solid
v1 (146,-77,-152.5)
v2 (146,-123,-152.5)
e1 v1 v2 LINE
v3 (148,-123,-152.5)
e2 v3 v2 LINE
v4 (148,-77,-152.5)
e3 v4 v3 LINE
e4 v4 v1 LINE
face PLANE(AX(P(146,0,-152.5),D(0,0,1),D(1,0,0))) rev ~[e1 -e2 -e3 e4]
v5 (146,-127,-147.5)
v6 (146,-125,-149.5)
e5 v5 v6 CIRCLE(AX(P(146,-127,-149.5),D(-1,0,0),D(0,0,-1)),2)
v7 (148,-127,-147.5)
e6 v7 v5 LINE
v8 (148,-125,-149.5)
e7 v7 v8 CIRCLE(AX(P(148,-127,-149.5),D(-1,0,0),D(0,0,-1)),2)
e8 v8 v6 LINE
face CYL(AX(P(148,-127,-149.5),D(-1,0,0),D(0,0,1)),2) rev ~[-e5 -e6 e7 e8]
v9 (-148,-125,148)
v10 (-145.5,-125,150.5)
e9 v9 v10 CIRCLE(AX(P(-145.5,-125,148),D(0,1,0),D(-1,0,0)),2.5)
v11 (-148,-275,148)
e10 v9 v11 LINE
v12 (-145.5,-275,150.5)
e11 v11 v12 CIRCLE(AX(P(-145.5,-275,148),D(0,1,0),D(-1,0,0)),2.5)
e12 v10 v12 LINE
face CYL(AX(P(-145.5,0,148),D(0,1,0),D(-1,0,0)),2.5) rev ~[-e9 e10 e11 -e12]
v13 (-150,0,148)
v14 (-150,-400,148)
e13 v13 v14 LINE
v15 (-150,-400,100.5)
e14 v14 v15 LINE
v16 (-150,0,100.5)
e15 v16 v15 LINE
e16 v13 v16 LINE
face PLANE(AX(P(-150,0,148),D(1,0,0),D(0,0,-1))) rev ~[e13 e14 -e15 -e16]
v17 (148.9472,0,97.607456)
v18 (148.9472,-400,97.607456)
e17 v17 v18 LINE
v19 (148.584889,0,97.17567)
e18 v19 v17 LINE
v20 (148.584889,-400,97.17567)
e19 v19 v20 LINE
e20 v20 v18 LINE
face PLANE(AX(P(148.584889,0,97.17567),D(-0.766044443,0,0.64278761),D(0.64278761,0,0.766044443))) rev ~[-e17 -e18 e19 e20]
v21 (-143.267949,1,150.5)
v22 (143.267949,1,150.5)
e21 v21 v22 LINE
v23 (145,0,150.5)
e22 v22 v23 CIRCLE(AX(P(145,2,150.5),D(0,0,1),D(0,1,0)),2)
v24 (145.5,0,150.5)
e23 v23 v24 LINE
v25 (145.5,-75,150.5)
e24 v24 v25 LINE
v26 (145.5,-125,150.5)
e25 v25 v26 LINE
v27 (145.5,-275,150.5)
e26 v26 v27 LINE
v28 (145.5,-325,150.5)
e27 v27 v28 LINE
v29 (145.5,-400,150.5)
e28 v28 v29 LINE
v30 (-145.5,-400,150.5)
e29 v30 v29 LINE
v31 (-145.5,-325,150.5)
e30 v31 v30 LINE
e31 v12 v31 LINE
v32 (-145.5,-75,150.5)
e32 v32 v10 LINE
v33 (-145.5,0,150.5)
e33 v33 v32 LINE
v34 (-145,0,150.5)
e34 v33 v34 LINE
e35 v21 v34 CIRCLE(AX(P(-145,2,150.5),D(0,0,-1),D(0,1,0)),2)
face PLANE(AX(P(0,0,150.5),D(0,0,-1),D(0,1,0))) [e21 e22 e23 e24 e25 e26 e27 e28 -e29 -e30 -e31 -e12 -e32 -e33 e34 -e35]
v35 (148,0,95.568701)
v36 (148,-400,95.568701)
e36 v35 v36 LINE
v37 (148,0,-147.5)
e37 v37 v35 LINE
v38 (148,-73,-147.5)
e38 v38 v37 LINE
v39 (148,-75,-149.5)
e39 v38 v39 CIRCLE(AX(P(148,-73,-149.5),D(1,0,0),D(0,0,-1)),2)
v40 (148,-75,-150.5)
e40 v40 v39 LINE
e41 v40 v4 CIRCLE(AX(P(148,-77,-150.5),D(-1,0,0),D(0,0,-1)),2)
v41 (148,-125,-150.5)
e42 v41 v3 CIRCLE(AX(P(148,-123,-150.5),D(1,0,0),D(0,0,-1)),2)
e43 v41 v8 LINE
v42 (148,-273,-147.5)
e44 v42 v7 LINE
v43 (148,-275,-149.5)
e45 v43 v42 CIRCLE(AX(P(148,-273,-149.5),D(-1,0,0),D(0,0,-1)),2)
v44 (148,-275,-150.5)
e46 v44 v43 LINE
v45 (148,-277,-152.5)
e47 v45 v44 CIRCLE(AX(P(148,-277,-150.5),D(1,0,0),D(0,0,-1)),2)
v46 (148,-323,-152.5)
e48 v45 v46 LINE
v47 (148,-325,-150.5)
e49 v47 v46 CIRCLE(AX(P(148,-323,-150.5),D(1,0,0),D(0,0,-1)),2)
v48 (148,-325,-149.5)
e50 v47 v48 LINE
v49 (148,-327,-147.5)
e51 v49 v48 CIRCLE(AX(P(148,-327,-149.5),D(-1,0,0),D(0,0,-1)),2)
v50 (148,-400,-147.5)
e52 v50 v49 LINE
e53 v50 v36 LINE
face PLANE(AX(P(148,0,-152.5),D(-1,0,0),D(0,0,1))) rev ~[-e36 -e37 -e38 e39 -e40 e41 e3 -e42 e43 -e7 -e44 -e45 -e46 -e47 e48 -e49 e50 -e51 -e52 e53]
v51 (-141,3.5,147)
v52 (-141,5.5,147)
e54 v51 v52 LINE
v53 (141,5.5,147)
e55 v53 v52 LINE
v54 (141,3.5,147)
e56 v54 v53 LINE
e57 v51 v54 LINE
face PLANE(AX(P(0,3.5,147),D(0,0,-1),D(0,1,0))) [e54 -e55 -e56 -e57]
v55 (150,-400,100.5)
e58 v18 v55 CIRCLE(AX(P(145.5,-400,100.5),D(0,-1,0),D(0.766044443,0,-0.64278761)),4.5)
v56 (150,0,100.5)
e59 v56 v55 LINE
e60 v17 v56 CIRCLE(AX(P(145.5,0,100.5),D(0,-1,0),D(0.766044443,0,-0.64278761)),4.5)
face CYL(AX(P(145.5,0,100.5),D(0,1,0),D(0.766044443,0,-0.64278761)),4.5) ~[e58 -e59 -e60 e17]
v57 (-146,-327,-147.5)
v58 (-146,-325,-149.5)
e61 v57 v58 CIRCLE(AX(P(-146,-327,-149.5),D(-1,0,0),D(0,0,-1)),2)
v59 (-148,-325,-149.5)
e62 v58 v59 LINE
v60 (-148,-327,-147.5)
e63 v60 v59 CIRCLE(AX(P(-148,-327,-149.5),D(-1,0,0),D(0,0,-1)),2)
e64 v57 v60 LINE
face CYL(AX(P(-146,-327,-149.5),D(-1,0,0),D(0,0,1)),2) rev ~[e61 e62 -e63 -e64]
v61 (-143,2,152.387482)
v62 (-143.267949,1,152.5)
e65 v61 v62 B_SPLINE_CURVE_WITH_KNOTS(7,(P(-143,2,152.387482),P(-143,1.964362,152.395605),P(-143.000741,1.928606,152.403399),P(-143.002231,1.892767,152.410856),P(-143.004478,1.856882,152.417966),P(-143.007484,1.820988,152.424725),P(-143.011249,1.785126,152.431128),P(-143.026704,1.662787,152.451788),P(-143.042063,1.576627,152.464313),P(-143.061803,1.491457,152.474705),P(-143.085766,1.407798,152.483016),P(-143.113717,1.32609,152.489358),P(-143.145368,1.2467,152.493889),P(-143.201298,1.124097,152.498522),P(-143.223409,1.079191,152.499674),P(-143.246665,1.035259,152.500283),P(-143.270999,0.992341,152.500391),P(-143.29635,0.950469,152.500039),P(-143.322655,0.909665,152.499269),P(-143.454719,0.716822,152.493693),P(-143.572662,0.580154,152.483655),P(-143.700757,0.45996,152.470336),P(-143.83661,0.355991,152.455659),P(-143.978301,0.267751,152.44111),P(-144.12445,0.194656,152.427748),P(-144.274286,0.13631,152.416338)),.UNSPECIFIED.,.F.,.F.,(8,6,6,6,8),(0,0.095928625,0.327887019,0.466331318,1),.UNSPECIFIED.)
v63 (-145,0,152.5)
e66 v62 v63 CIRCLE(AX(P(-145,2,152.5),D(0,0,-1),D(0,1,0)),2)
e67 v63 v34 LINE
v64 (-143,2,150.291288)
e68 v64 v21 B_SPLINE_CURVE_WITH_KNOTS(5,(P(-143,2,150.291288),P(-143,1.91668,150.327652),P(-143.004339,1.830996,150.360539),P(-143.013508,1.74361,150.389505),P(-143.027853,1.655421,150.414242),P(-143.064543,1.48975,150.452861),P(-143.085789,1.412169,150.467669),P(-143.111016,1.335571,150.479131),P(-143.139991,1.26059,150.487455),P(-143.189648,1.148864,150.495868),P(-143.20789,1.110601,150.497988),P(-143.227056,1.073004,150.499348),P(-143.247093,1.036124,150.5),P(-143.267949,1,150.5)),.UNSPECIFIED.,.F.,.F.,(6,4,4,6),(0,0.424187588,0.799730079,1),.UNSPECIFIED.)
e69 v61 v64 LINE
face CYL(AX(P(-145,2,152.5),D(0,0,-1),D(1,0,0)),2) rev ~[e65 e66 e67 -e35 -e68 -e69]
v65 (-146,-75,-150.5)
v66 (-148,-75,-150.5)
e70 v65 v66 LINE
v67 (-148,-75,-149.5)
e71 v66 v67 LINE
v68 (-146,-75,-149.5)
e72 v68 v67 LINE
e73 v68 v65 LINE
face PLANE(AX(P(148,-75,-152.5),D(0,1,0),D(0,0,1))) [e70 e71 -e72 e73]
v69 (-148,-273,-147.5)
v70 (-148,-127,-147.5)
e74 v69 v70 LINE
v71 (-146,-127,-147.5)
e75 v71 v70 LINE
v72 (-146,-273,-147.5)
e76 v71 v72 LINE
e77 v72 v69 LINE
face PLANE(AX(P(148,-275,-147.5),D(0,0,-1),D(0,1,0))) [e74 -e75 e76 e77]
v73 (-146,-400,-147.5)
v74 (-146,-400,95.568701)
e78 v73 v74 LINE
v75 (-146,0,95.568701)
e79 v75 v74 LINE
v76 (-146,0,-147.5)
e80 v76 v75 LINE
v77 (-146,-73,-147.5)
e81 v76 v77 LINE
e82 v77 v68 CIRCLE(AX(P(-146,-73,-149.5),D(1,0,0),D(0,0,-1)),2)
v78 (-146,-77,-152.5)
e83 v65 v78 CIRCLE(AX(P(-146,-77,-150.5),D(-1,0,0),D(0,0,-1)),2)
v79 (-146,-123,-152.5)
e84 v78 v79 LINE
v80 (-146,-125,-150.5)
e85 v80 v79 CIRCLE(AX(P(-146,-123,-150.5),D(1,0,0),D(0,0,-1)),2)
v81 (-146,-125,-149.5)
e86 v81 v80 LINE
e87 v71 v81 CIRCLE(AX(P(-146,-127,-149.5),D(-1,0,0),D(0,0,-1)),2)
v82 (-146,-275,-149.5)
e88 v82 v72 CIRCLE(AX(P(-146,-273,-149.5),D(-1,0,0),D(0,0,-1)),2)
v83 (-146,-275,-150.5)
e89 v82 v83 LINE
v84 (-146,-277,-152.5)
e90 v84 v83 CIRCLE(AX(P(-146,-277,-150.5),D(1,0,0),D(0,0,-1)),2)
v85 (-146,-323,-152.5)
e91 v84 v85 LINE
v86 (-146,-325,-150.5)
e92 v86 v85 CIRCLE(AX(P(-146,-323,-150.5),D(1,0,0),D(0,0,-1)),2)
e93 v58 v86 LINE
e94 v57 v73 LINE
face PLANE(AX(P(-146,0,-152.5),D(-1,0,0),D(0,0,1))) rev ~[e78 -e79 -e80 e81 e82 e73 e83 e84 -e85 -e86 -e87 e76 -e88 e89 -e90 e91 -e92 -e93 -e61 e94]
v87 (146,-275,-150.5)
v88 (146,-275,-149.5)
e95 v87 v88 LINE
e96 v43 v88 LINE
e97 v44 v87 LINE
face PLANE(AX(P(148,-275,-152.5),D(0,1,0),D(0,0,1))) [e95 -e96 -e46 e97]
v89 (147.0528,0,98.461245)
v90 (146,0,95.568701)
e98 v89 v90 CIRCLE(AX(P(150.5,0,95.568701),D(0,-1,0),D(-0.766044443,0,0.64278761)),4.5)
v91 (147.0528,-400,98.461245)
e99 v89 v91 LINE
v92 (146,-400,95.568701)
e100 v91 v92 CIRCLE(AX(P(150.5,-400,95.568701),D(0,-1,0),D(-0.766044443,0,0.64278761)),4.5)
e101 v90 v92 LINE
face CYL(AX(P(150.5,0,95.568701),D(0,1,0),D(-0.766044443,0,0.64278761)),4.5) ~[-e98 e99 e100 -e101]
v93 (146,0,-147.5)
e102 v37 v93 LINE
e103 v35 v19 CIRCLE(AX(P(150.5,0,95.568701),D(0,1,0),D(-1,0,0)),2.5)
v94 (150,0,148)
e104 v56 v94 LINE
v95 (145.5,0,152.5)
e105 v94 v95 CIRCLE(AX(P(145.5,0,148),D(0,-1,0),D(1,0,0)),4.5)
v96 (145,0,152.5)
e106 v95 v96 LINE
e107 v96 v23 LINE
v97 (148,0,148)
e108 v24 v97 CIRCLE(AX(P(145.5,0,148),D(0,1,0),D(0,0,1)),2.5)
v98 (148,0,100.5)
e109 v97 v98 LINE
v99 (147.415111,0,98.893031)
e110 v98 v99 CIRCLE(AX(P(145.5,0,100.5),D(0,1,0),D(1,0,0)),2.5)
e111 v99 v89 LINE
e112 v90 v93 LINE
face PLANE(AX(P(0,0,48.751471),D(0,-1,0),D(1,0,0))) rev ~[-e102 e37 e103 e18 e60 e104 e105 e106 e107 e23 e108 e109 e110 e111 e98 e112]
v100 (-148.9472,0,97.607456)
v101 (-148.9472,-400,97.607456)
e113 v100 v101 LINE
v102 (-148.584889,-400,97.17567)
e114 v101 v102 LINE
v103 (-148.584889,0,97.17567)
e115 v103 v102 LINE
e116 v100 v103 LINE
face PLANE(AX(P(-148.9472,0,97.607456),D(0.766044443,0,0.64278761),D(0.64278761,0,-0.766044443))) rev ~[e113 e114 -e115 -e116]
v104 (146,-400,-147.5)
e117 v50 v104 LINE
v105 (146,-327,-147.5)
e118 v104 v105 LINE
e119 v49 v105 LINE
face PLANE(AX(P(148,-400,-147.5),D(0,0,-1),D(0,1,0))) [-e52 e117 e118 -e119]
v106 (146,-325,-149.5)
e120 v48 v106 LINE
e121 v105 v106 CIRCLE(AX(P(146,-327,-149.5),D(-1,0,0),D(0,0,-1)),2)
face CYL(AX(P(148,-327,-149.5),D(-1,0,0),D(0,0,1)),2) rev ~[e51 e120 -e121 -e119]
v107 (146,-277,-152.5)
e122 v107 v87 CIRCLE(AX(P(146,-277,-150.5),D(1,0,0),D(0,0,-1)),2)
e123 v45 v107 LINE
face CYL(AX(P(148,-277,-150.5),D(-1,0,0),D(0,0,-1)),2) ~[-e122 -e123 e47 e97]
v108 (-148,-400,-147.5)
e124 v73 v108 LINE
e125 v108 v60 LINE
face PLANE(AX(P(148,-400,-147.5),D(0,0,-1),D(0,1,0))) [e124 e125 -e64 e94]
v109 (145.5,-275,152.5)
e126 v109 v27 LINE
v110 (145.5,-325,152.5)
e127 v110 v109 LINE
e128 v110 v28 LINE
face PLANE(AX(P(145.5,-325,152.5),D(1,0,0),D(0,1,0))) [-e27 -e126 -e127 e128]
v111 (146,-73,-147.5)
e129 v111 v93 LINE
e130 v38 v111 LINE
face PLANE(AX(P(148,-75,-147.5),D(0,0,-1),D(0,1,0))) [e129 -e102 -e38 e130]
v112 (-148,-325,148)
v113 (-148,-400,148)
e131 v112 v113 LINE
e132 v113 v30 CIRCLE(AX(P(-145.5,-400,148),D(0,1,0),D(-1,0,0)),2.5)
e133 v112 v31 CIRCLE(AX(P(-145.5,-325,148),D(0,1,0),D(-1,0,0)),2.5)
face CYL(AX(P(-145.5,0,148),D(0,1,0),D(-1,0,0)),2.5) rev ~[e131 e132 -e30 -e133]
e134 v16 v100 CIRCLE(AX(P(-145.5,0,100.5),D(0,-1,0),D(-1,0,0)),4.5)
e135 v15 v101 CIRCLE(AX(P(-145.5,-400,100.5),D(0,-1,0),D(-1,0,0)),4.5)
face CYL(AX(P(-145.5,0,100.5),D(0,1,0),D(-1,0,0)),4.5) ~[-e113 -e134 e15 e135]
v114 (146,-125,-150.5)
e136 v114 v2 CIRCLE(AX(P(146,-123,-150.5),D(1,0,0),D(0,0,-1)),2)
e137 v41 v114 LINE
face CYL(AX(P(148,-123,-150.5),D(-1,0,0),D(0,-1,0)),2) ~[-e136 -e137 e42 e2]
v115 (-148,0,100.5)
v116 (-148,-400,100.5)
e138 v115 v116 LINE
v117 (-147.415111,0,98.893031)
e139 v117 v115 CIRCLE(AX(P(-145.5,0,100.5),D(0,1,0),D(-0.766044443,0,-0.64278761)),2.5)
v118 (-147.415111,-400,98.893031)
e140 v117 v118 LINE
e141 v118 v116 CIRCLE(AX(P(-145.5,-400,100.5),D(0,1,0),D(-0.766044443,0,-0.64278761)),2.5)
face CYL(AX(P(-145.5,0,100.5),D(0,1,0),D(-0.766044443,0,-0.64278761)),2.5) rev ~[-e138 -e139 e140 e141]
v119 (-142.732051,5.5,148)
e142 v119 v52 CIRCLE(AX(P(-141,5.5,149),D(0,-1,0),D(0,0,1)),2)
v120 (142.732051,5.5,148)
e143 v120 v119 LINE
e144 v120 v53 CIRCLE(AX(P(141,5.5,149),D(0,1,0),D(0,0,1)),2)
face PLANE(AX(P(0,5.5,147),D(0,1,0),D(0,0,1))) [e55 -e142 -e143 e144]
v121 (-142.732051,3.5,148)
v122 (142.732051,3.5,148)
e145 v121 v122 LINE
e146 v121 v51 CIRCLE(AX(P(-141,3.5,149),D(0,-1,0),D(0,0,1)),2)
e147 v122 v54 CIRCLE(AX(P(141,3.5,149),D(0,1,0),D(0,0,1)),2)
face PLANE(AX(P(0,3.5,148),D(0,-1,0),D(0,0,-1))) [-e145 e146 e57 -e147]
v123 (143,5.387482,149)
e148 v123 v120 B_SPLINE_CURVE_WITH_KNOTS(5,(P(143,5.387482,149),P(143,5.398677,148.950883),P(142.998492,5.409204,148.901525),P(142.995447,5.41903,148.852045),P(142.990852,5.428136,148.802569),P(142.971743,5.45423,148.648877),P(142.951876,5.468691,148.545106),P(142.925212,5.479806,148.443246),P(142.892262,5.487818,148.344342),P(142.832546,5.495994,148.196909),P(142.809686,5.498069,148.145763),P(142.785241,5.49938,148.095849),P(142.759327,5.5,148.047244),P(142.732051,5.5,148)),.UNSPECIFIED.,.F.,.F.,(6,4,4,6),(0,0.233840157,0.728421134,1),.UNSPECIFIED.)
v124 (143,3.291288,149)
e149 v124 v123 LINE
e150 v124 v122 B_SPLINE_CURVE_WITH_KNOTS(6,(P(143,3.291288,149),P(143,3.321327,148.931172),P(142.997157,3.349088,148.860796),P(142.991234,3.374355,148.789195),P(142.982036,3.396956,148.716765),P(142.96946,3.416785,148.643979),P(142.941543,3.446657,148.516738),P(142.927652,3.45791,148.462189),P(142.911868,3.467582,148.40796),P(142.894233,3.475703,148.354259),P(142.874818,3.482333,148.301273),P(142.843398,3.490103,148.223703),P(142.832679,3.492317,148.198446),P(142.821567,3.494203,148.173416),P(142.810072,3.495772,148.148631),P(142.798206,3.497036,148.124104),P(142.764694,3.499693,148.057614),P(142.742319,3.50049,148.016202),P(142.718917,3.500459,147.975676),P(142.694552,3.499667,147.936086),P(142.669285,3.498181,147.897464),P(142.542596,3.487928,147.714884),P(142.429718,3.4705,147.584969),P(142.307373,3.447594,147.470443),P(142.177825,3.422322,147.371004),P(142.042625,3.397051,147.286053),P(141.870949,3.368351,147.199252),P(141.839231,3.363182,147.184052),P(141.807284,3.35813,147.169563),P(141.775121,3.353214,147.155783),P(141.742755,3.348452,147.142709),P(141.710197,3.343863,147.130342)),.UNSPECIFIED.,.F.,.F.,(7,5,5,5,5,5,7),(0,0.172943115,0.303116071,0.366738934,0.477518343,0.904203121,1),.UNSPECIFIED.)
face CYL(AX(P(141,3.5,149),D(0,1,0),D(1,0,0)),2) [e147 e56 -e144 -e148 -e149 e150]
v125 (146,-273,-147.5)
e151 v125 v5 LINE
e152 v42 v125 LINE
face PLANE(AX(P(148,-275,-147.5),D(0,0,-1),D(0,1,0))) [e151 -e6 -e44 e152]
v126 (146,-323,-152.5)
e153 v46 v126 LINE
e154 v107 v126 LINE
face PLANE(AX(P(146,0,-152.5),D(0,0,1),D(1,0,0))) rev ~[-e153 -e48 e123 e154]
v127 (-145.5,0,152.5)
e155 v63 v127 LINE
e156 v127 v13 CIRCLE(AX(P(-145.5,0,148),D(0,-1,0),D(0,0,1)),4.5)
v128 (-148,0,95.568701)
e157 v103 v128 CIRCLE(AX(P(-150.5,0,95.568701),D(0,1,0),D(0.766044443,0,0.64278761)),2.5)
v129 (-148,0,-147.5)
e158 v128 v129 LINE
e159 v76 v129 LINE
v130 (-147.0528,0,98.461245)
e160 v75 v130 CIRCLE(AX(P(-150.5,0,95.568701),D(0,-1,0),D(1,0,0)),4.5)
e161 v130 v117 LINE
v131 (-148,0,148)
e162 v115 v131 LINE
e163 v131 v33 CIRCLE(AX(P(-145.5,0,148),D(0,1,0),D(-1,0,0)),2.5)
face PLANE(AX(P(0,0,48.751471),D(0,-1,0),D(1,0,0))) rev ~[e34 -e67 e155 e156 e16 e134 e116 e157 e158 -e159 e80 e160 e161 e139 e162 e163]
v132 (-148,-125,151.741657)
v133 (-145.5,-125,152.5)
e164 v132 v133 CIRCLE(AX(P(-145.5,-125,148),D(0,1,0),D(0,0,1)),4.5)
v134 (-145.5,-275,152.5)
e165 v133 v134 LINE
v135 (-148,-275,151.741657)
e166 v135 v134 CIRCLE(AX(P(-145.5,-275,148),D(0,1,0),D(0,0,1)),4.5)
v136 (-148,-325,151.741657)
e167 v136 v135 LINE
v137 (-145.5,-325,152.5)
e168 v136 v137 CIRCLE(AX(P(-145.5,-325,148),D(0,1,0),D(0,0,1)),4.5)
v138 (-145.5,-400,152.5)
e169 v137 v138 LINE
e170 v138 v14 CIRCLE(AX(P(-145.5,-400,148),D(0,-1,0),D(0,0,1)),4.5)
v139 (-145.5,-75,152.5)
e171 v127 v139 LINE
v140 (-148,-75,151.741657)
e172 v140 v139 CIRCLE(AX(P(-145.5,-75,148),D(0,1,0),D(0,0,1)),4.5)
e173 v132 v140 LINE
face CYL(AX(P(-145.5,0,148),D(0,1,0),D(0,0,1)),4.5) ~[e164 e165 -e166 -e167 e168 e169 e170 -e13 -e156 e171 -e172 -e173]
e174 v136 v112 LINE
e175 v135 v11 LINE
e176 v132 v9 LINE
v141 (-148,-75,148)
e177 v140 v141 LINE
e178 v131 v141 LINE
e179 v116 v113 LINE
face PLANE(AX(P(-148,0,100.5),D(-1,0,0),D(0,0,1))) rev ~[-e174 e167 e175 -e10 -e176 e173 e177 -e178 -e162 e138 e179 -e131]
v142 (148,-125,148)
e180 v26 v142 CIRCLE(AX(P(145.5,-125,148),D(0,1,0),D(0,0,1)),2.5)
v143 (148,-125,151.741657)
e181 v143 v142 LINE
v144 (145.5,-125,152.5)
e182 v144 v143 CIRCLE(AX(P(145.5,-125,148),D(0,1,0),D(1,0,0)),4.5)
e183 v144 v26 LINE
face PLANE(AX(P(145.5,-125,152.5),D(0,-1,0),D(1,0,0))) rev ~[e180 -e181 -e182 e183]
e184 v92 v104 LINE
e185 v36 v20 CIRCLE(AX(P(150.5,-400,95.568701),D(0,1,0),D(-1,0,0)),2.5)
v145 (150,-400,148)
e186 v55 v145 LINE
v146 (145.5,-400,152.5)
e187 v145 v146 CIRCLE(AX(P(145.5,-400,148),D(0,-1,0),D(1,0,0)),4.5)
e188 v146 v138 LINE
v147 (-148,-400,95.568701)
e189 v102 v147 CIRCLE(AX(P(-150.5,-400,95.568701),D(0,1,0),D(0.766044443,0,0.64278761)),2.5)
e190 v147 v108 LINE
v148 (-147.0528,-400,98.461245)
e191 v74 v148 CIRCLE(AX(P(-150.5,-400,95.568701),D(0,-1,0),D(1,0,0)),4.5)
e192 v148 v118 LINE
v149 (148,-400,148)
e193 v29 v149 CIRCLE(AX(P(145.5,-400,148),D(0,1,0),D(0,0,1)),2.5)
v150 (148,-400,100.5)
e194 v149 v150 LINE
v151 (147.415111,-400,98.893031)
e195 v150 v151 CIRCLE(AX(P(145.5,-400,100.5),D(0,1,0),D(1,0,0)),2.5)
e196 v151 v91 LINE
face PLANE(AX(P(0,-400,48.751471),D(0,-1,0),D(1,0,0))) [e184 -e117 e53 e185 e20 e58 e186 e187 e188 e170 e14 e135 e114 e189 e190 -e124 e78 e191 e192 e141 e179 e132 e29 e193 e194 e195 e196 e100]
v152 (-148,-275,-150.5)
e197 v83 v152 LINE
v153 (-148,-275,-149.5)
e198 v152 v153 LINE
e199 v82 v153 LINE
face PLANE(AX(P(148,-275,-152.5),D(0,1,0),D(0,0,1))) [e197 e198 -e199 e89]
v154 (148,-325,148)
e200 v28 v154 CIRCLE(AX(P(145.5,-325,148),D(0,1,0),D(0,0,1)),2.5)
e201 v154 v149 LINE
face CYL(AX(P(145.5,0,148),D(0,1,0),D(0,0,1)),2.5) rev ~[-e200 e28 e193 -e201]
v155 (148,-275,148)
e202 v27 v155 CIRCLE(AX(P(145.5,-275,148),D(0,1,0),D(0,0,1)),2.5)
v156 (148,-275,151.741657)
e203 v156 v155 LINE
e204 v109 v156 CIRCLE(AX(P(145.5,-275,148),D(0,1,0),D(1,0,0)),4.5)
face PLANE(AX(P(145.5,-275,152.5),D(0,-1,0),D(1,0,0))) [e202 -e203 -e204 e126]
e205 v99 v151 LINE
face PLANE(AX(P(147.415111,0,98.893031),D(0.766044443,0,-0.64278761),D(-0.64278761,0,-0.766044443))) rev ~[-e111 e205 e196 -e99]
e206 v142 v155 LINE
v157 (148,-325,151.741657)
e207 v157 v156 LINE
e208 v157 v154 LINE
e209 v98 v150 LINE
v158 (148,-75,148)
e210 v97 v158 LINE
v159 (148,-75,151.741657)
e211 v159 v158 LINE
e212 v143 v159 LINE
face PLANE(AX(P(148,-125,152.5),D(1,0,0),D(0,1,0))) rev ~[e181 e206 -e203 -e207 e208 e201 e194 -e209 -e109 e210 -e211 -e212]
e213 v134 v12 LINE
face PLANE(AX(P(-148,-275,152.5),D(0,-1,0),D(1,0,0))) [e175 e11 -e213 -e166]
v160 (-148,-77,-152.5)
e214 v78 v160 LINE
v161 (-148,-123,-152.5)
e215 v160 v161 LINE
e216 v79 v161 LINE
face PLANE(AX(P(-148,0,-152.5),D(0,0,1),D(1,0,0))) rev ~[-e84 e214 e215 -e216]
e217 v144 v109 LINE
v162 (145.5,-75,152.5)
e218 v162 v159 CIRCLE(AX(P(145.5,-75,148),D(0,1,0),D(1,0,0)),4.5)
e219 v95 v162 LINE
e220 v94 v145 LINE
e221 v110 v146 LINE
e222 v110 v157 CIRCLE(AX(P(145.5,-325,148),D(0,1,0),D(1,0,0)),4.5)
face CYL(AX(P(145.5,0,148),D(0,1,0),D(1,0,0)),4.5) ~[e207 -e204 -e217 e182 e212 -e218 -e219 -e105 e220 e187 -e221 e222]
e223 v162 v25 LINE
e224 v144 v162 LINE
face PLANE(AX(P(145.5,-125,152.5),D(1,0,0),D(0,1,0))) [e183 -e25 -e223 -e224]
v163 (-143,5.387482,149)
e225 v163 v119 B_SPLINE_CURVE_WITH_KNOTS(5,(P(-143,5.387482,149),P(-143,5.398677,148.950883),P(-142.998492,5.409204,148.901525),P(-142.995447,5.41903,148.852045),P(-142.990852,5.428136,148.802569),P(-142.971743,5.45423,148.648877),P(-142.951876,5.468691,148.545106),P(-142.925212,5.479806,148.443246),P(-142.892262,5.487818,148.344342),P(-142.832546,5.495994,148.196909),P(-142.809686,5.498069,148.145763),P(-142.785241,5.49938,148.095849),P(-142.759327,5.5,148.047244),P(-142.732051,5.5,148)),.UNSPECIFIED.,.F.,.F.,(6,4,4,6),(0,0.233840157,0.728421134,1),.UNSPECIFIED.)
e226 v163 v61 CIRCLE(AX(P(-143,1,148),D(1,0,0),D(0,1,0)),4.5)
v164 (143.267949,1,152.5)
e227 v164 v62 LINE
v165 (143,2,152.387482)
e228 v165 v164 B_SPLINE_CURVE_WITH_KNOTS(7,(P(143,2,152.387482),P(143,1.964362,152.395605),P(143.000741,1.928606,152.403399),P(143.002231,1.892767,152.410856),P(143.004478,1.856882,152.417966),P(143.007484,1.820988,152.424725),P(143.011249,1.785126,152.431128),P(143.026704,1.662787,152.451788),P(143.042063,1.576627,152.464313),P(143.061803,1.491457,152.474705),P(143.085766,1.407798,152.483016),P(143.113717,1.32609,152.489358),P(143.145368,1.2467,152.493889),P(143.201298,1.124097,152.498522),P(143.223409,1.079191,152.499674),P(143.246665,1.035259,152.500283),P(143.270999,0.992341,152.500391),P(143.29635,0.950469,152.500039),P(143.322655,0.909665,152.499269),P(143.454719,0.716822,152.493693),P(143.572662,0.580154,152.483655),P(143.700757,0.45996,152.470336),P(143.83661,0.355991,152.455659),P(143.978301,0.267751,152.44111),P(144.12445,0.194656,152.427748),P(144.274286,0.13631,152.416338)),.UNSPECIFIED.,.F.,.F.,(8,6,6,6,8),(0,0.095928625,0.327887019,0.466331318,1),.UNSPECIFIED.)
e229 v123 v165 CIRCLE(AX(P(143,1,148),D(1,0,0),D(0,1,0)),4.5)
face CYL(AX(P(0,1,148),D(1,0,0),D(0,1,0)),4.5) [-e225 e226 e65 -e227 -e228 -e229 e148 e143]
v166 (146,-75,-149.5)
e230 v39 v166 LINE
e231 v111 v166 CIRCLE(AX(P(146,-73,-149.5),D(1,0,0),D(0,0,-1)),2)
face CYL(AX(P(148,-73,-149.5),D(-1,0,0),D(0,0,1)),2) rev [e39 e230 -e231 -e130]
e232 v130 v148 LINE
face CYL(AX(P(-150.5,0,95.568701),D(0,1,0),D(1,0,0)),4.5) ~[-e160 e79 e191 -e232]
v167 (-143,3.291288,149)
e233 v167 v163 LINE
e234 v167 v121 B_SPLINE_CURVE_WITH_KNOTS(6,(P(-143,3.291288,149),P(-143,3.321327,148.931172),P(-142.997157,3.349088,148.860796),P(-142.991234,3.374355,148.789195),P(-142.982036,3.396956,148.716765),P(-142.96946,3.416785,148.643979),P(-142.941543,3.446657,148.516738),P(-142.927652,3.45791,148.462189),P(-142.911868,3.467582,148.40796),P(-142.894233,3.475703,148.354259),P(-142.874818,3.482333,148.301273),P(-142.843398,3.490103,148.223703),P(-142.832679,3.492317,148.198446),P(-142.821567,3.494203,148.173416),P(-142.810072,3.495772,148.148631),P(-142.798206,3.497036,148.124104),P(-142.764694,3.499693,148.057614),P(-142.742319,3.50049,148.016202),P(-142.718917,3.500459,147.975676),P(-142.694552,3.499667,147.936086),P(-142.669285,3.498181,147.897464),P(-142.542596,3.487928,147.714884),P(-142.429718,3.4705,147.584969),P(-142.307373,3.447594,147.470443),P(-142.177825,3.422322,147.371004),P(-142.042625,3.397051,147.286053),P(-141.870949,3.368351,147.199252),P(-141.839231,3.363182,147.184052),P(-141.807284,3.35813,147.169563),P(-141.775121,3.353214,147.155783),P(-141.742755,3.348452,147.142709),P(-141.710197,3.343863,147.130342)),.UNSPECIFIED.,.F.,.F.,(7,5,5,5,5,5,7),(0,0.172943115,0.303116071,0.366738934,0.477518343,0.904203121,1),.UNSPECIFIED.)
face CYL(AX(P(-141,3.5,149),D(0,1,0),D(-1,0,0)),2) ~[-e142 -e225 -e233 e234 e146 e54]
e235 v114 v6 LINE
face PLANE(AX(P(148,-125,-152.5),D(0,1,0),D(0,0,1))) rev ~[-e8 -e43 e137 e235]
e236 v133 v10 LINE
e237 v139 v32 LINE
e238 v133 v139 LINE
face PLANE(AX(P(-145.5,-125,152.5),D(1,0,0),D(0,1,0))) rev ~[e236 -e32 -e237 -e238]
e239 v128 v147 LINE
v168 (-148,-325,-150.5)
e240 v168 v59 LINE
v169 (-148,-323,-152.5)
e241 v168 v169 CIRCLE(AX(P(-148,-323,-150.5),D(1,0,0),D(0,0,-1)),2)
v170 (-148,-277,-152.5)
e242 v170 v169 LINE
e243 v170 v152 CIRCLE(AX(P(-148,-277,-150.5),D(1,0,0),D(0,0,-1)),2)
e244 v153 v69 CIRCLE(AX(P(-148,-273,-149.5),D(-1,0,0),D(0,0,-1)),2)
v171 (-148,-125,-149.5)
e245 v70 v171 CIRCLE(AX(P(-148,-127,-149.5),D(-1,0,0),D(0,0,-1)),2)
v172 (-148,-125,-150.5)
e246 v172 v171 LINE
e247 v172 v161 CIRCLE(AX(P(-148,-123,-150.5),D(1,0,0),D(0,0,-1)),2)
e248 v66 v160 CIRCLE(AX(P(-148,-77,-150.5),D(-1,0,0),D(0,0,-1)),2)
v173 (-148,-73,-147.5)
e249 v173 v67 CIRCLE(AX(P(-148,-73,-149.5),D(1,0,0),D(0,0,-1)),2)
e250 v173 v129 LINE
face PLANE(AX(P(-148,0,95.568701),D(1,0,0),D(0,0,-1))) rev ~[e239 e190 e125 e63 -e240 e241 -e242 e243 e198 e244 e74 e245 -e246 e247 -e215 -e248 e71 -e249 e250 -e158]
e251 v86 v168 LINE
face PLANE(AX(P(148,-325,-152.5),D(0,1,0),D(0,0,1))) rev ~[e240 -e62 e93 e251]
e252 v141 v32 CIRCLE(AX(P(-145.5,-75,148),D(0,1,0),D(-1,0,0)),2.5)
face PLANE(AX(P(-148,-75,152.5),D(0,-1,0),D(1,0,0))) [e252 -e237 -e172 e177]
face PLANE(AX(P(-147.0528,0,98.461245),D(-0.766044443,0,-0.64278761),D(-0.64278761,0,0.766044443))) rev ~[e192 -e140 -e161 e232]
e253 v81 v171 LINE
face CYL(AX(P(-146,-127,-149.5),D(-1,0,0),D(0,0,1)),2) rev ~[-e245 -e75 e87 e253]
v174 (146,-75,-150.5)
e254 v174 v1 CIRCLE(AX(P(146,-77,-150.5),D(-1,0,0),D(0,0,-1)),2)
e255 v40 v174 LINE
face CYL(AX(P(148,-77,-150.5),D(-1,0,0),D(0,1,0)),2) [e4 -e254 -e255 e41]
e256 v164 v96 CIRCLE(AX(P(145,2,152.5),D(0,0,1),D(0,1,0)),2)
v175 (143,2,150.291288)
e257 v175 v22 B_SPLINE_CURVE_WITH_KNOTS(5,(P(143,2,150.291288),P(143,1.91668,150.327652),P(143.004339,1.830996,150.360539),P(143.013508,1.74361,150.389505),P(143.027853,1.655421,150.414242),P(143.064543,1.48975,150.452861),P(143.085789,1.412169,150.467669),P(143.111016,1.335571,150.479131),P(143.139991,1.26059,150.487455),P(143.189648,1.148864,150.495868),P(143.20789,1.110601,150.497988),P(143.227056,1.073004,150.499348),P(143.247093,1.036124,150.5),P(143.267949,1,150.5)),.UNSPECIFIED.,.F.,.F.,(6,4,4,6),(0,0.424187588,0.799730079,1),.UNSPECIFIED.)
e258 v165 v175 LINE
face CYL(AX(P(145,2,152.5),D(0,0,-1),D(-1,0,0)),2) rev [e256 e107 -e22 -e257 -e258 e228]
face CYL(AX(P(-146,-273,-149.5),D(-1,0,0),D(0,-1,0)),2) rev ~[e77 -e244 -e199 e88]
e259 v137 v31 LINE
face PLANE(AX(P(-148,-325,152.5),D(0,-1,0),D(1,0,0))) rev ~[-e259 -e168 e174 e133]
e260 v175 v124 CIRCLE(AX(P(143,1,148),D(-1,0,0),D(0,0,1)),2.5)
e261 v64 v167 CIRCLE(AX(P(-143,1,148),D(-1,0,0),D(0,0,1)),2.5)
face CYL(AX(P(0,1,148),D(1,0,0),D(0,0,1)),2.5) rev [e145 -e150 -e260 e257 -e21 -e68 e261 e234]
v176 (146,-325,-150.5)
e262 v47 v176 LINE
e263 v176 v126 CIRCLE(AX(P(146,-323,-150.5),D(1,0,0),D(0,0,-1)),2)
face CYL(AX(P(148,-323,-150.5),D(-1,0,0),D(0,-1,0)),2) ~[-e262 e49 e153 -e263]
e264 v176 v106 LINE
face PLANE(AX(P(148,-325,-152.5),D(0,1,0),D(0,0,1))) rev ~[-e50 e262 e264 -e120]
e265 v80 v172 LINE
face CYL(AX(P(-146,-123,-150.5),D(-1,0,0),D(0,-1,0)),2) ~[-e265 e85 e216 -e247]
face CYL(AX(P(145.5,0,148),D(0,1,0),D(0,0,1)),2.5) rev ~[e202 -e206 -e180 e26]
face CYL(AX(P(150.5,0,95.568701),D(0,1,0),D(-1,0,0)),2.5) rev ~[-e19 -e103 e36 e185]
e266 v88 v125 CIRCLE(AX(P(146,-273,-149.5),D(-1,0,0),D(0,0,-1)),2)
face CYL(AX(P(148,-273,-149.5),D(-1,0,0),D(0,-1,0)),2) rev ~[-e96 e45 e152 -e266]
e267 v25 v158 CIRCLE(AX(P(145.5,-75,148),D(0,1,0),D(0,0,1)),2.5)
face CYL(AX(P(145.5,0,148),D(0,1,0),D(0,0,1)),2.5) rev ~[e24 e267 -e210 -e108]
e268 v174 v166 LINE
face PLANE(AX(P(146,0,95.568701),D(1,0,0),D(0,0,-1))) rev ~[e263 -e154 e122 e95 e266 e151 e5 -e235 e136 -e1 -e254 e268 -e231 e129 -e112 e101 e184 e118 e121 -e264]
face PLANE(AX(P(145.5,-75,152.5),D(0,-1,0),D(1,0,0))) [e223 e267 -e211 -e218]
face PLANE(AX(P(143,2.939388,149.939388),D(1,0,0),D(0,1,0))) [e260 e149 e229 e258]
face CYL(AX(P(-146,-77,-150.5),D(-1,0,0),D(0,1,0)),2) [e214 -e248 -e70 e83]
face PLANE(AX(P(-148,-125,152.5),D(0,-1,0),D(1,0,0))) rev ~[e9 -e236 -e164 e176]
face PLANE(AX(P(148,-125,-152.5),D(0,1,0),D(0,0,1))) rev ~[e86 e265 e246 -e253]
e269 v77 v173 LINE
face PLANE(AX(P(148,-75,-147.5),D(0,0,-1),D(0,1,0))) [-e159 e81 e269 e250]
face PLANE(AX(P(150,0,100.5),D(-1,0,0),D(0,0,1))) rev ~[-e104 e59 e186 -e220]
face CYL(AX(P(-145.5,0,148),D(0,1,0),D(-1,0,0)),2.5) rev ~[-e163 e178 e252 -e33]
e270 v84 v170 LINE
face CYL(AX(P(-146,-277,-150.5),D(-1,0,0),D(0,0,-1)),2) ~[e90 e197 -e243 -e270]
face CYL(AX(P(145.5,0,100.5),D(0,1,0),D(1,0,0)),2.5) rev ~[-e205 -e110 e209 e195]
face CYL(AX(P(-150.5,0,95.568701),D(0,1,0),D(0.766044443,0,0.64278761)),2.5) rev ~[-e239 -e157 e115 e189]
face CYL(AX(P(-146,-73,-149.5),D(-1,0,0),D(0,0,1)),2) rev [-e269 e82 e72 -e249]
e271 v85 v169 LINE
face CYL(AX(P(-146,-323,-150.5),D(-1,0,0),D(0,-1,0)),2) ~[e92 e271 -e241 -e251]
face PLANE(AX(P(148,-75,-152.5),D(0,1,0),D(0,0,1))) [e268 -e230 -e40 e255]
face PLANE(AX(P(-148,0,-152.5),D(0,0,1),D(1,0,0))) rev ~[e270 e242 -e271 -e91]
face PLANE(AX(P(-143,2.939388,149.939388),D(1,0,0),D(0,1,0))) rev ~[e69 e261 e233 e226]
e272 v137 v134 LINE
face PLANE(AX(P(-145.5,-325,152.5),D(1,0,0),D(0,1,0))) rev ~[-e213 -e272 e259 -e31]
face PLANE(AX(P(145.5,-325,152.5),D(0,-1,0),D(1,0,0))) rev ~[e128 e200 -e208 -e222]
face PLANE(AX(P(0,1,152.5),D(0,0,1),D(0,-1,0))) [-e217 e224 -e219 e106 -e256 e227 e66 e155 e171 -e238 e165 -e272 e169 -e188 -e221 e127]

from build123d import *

# Parameters (mm, degrees)
F1_DEPTH      = 400
F2_W          = 150
F2_H          = 5
F2_W_2        = 75
F3_DEPTH      = 645
F4_W          = 2.5
F4_H          = 50
F5_DEPTH      = 21
F6_R          = 2
F8_DEPTH      = 143
F8_DEPTH_BACK = 143
F9_R          = 2


with BuildPart() as f1:
    # F0 (on Front) → F1 (new body)
    with BuildSketch(Plane.XZ):
        with BuildLine():
            ThreePointArc((150, 148), (148.6819805153, 151.1819805153), (145.5, 152.5))
            Line((145.5, 152.5), (0, 152.5))
            Line((0, 152.5), (-145.5, 152.5))
            ThreePointArc((-145.5, 152.5), (-148.6819805153, 151.1819805153), (-150, 148))
            Line((-150, 148), (-150, 100.5))
            ThreePointArc((-150, 100.5), (-149.7286167935, 98.960909355), (-148.947199994, 97.6074557564))
            Line((-148.947199994, 97.6074557564), (-148.5848888922, 97.1756701992))
            ThreePointArc((-148.5848888922, 97.1756701992), (-148.150768448, 96.4237515333), (-148, 95.5687011749))
            Line((-148, 95.5687011749), (-148, -152.5))
            Line((-148, -152.5), (-146, -152.5))
            Line((-146, -152.5), (-146, 95.5687011749))
            ThreePointArc((-146, 95.5687011749), (-146.2713832065, 97.1077918199), (-147.052800006, 98.4612454185))
            Line((-147.052800006, 98.4612454185), (-147.4151111078, 98.8930309758))
            ThreePointArc((-147.4151111078, 98.8930309758), (-147.849231552, 99.6449496417), (-148, 100.5))
            Line((-148, 100.5), (-148, 148))
            ThreePointArc((-148, 148), (-147.267766953, 149.767766953), (-145.5, 150.5))
            Line((-145.5, 150.5), (0, 150.5))
            Line((0, 150.5), (145.5, 150.5))
            ThreePointArc((145.5, 150.5), (147.267766953, 149.767766953), (148, 148))
            Line((148, 148), (148, 100.5))
            ThreePointArc((148, 100.5), (147.849231552, 99.6449496417), (147.4151111078, 98.8930309758))
            Line((147.4151111078, 98.8930309758), (147.052800006, 98.4612454185))
            ThreePointArc((147.052800006, 98.4612454185), (146.2713832065, 97.1077918199), (146, 95.5687011749))
            Line((146, 95.5687011749), (146, -152.5))
            Line((146, -152.5), (148, -152.5))
            Line((148, -152.5), (148, 95.5687011749))
            ThreePointArc((148, 95.5687011749), (148.150768448, 96.4237515333), (148.5848888922, 97.1756701992))
            Line((148.5848888922, 97.1756701992), (148.947199994, 97.6074557564))
            ThreePointArc((148.947199994, 97.6074557564), (149.7286167935, 98.960909355), (150, 100.5))
            Line((150, 100.5), (150, 148))
        make_face()
    extrude(amount=F1_DEPTH)

    # F2 (on face) → F3 (cut)
    with BuildSketch(Plane.YZ.offset(148)):
        with Locations((-200, -150)):
            Rectangle(F2_W, F2_H)
        with Locations((-37.5, -150)):
            Rectangle(F2_W_2, F2_H)
        with Locations((-362.5, -150)):
            Rectangle(F2_W_2, F2_H)
    extrude(amount=-F3_DEPTH, mode=Mode.SUBTRACT)

    # F4 (on face) → F5 (cut)
    with BuildSketch(Plane.XY.offset(152.5)):
        with Locations((146.75, -100)):
            Rectangle(F4_W, F4_H)
        with Locations((146.75, -300)):
            Rectangle(F4_W, F4_H)
        with Locations((-146.75, -100)):
            Rectangle(F4_W, F4_H)
        with Locations((-146.75, -300)):
            Rectangle(F4_W, F4_H)
    extrude(amount=-F5_DEPTH, mode=Mode.SUBTRACT)

    # F6
    f6_edges = [f1.edges().sort_by_distance(p)[0] for p in [
        (147, -125, -147.5),
        (147, -325, -147.5),
        (-147, -325, -147.5),
        (-147, -125, -147.5),
        (147, -75, -147.5),
        (147, -275, -147.5),
        (-147, -275, -147.5),
        (-147, -75, -147.5),
        (147, -325, -152.5),
        (147, -125, -152.5),
        (-147, -325, -152.5),
        (-147, -125, -152.5),
        (147, -275, -152.5),
        (147, -75, -152.5),
        (-147, -275, -152.5),
        (-147, -75, -152.5),
    ]]
    fillet(f6_edges, radius=F6_R)

    # F7 (on Right) → F8 (join, two sides)
    with BuildSketch(Plane.YZ) as f8_sk:
        with BuildLine():
            Line((1, 152.5), (0, 152.5))
            Line((0, 152.5), (0, 150.5))
            Line((0, 150.5), (1, 150.5))
            ThreePointArc((1, 150.5), (2.767766953, 149.767766953), (3.5, 148))
            Line((3.5, 148), (3.5, 147))
            Line((3.5, 147), (5.5, 147))
            Line((5.5, 147), (5.5, 148))
            ThreePointArc((5.5, 148), (4.1819805153, 151.1819805153), (1, 152.5))
        make_face()
    extrude(amount=F8_DEPTH)
    extrude(f8_sk.sketch, amount=-F8_DEPTH_BACK)

    # F9 (call 1 of 4: OpenCascade refuses the feature's edges together)
    f9_edges = [f1.edges().sort_by_distance(p)[0] for p in [
        (143, 0, 151.5),
    ]]
    fillet(f9_edges, radius=F9_R)

    # F9#2 (call 2 of 4)
    f9_2_edges = [f1.edges().sort_by_distance(p)[0] for p in [
        (-143, 0, 151.5),
    ]]
    fillet(f9_2_edges, radius=F9_R)

    # F9#3 (call 3 of 4)
    f9_3_edges = [f1.edges().sort_by_distance(p)[0] for p in [
        (-143, 4.5, 147),
    ]]
    fillet(f9_3_edges, radius=F9_R)

    # F9#4 (call 4 of 4)
    f9_4_edges = [f1.edges().sort_by_distance(p)[0] for p in [
        (143, 4.5, 147),
    ]]
    fillet(f9_4_edges, radius=F9_R)


solid = f1.part
